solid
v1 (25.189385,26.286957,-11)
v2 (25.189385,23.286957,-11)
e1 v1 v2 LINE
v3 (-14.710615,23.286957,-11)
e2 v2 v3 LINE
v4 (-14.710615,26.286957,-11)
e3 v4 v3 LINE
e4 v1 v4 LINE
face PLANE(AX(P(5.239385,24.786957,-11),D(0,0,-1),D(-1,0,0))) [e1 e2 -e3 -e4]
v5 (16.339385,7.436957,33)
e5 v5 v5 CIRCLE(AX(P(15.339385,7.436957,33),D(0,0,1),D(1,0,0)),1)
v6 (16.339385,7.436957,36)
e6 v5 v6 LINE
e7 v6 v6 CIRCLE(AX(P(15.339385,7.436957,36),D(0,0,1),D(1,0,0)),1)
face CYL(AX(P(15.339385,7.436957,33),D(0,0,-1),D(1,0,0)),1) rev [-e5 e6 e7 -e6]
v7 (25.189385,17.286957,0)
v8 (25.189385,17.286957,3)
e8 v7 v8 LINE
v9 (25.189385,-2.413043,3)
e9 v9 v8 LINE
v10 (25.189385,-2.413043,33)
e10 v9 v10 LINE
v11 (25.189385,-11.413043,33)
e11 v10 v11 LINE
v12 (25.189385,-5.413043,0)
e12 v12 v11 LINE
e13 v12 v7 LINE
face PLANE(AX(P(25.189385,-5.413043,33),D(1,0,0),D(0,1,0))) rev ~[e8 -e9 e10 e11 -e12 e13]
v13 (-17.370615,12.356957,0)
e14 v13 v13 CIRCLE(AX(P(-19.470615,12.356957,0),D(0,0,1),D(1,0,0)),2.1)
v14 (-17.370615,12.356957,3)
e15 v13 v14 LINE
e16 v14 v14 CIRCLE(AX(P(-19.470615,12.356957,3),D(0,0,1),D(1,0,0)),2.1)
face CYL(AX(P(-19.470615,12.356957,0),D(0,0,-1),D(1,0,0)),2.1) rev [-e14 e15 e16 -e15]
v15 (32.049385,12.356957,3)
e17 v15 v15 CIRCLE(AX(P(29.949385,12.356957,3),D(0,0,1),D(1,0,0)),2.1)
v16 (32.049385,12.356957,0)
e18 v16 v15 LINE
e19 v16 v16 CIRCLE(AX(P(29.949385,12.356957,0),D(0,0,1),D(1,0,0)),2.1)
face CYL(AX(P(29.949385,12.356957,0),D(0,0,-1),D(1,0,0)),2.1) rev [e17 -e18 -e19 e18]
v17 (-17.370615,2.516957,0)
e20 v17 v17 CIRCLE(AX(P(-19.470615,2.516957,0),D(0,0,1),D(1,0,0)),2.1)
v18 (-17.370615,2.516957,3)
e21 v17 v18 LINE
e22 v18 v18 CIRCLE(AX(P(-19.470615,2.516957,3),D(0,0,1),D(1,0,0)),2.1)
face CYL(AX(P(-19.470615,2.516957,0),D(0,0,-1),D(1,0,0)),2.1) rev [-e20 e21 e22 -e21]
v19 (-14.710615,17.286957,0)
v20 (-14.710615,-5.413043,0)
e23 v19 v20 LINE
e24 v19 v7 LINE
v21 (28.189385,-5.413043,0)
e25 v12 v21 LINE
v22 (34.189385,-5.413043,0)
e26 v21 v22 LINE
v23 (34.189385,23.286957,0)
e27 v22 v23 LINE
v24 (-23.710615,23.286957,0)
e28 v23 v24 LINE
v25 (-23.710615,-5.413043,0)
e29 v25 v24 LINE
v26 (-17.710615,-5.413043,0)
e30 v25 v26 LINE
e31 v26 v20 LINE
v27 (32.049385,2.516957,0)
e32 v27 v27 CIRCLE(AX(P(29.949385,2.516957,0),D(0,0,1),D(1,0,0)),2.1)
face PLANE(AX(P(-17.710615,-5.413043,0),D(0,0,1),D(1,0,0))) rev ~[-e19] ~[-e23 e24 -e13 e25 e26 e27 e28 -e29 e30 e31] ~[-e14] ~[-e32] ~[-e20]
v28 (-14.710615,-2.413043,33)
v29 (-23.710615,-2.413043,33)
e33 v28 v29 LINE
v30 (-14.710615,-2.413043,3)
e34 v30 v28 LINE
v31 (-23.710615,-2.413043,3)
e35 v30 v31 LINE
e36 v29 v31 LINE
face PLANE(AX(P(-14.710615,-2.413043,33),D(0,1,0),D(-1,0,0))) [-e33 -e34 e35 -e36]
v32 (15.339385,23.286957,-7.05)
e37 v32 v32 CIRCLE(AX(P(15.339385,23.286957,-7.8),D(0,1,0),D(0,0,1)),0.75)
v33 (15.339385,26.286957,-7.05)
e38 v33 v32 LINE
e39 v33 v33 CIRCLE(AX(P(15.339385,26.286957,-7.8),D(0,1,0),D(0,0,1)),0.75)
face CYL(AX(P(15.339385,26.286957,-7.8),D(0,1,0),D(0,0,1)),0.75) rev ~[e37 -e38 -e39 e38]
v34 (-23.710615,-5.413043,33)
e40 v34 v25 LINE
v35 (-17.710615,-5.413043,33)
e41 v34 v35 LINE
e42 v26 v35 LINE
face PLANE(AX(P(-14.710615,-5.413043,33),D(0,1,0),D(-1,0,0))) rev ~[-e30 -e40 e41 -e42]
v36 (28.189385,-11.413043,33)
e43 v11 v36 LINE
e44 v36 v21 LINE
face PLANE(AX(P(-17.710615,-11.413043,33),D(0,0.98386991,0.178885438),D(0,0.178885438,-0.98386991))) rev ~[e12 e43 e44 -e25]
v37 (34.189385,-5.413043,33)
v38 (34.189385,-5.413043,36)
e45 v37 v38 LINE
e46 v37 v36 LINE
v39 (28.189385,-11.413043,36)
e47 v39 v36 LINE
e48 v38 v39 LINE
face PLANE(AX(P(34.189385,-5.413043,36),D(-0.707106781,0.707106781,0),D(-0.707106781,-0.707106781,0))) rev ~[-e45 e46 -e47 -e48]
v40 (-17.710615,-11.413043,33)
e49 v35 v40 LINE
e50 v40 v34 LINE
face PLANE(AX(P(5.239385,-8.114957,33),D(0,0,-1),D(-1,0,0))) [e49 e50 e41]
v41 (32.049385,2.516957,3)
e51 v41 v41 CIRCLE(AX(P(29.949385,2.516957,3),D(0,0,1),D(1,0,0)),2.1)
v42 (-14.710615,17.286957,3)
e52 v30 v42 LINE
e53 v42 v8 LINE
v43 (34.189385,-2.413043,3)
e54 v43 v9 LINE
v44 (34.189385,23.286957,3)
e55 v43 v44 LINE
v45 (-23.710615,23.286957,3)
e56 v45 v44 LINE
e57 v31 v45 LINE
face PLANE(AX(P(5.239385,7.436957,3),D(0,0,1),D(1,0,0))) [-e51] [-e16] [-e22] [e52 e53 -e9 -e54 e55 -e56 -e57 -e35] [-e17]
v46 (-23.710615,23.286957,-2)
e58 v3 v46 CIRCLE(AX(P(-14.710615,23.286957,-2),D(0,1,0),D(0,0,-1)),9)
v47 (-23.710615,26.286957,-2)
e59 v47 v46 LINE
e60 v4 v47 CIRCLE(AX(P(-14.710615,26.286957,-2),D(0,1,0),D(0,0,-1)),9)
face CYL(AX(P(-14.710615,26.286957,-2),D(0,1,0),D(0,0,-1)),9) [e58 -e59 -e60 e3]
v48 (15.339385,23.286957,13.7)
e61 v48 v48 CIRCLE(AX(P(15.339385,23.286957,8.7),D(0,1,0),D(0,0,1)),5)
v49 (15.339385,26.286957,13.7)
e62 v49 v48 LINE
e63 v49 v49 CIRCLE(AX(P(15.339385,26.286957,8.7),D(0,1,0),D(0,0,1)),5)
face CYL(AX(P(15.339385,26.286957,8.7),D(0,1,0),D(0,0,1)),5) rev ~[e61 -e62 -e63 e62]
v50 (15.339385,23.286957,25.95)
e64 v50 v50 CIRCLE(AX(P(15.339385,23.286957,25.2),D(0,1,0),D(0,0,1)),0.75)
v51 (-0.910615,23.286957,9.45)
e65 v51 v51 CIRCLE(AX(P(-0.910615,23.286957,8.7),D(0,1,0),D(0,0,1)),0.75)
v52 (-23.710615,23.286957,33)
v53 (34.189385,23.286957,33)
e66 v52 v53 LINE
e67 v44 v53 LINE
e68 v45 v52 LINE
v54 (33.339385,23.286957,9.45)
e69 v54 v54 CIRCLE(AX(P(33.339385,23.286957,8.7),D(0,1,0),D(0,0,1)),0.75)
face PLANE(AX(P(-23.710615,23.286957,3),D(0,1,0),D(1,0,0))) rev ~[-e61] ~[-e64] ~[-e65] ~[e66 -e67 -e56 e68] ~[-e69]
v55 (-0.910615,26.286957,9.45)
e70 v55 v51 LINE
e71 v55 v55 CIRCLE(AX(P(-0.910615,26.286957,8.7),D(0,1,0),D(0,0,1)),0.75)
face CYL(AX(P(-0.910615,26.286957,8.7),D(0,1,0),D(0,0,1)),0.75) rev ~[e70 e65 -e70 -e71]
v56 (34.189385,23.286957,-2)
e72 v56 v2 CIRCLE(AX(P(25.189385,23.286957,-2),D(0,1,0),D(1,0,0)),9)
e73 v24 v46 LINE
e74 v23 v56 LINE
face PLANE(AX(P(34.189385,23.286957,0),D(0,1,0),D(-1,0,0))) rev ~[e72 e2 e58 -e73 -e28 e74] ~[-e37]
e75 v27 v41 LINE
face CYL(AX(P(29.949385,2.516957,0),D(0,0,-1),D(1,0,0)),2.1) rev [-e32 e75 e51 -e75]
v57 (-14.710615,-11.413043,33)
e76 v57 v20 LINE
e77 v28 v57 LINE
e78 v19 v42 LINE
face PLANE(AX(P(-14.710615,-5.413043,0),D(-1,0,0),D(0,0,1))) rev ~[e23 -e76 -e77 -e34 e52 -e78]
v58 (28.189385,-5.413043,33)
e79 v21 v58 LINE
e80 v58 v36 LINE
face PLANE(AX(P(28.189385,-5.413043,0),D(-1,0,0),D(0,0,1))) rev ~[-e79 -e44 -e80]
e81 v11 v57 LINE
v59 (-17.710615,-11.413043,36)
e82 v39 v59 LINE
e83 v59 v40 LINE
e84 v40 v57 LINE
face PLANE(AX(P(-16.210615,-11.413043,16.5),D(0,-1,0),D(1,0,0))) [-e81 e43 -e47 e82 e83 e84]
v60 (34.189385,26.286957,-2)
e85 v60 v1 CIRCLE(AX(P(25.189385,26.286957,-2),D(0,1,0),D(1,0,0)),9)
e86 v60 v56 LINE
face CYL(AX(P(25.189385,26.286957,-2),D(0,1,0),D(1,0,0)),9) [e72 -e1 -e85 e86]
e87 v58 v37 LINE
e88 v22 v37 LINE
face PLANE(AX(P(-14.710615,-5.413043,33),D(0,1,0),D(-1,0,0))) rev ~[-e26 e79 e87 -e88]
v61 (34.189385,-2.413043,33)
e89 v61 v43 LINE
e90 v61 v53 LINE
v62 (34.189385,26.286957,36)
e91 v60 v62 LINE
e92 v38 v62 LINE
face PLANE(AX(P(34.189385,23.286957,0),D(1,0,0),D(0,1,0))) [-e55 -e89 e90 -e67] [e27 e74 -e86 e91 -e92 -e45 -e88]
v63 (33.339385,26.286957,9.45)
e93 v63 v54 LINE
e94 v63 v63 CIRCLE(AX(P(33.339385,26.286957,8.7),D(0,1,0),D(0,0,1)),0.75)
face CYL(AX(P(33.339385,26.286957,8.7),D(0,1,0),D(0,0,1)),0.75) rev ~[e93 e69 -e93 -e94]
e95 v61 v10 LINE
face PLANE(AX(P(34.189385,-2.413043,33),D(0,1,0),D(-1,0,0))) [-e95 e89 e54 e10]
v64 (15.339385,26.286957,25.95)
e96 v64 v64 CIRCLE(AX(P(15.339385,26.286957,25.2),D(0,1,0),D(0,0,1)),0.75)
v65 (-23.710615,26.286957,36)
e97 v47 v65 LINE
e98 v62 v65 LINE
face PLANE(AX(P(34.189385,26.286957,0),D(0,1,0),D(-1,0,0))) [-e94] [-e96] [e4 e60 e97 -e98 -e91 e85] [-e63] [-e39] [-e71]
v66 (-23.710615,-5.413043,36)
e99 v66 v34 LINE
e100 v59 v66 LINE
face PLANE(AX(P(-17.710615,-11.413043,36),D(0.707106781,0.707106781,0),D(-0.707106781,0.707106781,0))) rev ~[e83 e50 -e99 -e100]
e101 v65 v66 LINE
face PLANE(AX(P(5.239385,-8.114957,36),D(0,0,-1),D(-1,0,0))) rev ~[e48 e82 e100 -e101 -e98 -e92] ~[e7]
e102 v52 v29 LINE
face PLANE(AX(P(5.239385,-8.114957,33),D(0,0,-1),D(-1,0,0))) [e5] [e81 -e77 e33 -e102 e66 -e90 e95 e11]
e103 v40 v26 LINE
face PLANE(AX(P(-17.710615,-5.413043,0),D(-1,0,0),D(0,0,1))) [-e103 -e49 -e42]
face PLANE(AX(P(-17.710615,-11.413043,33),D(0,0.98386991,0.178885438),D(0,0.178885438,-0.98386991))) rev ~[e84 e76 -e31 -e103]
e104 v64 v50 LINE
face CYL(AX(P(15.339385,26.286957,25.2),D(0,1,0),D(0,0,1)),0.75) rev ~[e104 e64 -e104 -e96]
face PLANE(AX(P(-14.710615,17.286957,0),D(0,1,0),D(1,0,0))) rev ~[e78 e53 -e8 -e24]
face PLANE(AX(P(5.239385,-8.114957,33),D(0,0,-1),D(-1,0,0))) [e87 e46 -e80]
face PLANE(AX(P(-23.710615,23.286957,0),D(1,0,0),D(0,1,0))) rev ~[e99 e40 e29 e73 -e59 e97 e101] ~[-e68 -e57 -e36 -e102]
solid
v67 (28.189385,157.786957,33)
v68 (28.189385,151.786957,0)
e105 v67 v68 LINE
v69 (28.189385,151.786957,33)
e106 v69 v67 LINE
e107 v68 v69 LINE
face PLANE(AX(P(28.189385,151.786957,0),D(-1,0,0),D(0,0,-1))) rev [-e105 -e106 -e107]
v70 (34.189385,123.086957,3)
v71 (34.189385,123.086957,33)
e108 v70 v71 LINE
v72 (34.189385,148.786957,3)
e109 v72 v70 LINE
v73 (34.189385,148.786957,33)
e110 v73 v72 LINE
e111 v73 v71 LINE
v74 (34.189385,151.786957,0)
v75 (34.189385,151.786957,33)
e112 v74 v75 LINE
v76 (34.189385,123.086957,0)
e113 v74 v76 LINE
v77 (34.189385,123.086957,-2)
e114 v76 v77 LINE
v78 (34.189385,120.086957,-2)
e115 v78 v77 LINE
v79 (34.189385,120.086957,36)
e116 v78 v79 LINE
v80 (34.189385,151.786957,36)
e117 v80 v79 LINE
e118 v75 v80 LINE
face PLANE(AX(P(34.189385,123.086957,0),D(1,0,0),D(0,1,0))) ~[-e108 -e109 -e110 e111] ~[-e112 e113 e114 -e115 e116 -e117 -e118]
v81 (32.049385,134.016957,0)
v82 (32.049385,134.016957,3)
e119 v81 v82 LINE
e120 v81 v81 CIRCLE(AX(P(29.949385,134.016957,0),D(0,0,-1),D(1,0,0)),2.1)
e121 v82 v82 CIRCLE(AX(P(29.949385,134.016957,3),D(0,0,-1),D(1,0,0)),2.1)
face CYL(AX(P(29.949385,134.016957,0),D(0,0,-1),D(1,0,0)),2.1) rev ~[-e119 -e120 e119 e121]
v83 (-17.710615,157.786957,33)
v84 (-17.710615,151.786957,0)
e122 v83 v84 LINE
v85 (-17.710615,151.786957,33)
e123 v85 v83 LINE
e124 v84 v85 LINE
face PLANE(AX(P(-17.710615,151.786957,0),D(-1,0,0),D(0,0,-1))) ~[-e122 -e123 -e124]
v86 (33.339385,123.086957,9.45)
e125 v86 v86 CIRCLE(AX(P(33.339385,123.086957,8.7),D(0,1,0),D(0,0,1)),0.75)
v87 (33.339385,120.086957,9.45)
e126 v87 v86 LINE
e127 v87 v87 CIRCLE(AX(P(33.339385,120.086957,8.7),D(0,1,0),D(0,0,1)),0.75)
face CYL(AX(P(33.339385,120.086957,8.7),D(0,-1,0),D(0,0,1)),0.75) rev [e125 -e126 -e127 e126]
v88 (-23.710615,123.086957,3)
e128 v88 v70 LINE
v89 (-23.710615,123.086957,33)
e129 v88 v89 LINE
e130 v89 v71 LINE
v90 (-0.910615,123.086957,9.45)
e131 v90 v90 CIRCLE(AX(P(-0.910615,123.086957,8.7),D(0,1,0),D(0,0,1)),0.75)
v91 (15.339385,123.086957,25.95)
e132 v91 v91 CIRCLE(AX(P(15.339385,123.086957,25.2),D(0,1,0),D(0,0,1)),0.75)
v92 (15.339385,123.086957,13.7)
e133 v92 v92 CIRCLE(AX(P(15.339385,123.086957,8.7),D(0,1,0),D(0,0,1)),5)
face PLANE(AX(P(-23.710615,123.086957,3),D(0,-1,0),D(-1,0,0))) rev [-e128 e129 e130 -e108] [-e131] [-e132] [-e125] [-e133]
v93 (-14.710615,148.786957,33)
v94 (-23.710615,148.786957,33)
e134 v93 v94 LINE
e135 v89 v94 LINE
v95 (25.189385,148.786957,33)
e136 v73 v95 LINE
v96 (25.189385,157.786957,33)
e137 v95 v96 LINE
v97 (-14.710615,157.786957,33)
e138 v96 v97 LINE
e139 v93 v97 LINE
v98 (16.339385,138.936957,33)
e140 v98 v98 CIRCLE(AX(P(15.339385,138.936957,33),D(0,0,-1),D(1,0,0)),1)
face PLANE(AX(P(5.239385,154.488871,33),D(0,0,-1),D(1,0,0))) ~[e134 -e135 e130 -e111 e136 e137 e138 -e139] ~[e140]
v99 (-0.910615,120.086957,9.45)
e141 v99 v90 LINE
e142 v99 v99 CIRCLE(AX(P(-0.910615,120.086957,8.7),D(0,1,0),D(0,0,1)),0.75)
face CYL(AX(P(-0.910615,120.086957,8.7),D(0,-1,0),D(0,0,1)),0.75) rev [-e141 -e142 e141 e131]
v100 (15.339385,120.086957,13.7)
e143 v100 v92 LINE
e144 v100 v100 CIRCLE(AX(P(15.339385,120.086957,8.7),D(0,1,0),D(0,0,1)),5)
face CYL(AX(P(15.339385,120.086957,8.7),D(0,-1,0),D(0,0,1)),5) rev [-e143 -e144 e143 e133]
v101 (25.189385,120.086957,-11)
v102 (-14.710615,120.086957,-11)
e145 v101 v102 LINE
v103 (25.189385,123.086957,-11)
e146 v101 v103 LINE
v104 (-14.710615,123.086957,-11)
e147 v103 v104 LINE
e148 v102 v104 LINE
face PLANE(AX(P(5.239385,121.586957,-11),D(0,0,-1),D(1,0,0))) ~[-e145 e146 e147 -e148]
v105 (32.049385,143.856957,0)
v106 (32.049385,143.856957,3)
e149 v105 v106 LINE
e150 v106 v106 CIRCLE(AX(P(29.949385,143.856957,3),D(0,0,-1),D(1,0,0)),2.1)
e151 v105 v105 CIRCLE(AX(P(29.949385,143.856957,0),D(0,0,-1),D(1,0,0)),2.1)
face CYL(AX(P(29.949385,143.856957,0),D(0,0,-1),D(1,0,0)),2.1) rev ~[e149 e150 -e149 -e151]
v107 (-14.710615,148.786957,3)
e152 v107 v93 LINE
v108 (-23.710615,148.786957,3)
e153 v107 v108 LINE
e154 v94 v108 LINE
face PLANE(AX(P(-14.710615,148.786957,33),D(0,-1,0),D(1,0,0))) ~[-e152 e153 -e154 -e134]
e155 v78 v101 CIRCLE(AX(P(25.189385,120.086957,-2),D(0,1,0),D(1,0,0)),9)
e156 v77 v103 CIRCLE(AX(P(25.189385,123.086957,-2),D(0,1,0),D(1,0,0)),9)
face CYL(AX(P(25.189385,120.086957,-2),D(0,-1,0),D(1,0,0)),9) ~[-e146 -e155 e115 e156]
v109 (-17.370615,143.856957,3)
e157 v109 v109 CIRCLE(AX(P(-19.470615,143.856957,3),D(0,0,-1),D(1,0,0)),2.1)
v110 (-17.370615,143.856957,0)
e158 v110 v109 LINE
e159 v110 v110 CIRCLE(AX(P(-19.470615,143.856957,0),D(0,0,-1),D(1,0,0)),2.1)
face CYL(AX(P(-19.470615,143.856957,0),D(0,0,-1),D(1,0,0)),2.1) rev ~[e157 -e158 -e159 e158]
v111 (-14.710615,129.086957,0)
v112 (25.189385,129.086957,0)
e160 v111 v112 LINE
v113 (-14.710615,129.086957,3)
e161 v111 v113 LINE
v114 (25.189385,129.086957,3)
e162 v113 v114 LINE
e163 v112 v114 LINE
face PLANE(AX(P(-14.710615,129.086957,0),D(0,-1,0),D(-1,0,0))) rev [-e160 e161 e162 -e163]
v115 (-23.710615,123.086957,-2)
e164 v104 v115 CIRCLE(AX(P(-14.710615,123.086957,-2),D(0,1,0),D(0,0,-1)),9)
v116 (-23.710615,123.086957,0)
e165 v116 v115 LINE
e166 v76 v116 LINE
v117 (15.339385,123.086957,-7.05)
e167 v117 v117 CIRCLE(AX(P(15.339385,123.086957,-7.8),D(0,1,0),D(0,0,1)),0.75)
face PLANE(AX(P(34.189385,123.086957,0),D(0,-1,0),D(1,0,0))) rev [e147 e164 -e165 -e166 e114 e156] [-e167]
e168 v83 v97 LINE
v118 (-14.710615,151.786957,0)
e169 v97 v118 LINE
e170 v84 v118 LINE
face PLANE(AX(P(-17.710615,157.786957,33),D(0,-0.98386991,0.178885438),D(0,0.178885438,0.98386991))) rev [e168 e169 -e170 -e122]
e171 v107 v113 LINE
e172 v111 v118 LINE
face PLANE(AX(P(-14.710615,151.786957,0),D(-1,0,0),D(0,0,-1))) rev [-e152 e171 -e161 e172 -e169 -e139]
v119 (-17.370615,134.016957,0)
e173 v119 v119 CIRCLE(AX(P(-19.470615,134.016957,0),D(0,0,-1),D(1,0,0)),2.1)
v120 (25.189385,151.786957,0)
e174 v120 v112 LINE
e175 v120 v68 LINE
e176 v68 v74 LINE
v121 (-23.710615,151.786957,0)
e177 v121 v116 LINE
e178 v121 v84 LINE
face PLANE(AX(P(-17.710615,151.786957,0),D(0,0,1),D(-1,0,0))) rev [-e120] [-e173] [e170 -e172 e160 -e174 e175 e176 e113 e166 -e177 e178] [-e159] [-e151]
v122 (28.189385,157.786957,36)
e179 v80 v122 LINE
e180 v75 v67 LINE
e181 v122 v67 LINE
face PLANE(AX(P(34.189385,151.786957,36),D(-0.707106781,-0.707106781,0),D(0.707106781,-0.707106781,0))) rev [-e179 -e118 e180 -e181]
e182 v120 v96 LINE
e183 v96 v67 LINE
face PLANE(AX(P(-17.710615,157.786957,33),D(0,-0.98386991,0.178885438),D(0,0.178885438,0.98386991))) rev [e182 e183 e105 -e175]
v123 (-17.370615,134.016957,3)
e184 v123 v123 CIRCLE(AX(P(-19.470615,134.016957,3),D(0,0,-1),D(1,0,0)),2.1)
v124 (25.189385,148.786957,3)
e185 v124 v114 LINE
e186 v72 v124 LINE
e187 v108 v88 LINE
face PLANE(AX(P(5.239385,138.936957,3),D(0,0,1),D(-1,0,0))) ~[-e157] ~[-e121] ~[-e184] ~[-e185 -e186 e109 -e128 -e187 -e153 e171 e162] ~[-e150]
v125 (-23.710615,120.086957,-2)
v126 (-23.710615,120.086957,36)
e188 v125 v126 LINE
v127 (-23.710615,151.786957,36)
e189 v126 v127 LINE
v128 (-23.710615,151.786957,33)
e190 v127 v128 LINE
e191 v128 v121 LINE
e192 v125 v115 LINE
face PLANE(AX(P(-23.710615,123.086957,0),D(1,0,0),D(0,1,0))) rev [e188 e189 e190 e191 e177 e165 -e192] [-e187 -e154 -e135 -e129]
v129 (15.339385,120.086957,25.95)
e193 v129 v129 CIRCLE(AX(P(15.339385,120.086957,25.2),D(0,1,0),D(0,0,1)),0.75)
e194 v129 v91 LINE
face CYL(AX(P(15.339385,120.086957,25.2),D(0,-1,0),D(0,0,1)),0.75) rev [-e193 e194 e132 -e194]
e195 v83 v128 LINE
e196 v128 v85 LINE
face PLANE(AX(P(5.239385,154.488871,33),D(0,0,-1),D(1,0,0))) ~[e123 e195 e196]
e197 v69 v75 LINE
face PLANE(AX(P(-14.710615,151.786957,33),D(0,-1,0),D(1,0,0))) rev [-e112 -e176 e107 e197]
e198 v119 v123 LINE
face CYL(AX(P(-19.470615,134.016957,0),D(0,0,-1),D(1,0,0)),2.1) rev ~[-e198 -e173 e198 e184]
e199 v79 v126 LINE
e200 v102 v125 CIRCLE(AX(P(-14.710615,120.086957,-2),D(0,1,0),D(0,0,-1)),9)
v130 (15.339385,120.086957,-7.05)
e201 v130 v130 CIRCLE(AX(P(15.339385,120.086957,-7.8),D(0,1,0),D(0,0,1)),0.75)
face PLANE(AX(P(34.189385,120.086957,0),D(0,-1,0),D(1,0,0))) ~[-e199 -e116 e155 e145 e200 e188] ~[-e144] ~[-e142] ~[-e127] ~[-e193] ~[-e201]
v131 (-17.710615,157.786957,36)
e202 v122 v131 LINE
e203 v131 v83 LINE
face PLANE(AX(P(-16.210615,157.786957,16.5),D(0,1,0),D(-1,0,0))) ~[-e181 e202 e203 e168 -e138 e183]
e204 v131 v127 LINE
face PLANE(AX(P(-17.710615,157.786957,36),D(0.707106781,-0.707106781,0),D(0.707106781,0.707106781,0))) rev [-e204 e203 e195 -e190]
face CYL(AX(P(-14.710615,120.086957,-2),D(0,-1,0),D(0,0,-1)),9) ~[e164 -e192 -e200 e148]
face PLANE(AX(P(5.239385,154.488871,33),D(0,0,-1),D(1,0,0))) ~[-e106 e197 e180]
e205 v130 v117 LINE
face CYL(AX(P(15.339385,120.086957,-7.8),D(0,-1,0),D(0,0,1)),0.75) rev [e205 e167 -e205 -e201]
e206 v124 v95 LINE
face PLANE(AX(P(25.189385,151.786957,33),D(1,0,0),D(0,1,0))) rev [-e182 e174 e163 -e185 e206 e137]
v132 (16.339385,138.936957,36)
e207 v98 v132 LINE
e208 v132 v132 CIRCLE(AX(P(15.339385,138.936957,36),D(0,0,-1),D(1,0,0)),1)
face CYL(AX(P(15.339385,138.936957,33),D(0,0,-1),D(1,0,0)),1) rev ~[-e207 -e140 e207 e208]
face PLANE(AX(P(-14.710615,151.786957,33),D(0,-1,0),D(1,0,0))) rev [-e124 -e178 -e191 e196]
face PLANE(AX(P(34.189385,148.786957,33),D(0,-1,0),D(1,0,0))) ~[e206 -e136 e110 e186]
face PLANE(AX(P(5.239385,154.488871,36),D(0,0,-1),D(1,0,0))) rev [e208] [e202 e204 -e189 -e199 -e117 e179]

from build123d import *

# Parameters (mm, degrees)
SKETCH_1_W          = 57.9
SKETCH_1_H          = 37.7
SKETCH_1_R          = 2.1
SKETCH_1_W_2        = 39.9
SKETCH_1_H_2        = 19.7
EXTRUDE_1_DEPTH     = 3
SKETCH_2_W          = 57.9
SKETCH_2_H          = 3
EXTRUDE_2_DEPTH     = 30
SKETCH_3_R          = 1
EXTRUDE_3_DEPTH     = 3
SKETCH_9_W          = 57.9
SKETCH_9_H          = 3
EXTRUDE_4_DEPTH     = 11
SKETCH_10_R         = 0.75
SKETCH_10_R_2       = 5
CUT_EXTRUDE_3_DEPTH = 3
SKETCH_11_W         = 9
SKETCH_11_H         = 3
EXTRUDE_5_DEPTH     = 32
CUT_EXTRUDE_4_DEPTH = 9
EXTRUDE_6_DEPTH     = 3
SKETCH_17_W         = 3
SKETCH_17_H         = 33
EXTRUDE_7_DEPTH     = 6
CUT_EXTRUDE_5_DEPTH = 52


with BuildPart() as part:
    # 草图1 → 凸台-拉伸1 (new body)
    with BuildSketch(Plane.XY):
        with Locations((5.239385195, 7.436956636)):
            Rectangle(SKETCH_1_W, SKETCH_1_H)
        with Locations((-19.470614805, 12.356956636)):
            Circle(SKETCH_1_R, mode=Mode.SUBTRACT)
        with Locations((-19.470614805, 2.516956636)):
            Circle(SKETCH_1_R, mode=Mode.SUBTRACT)
        with Locations((29.949385195, 12.356956636)):
            Circle(SKETCH_1_R, mode=Mode.SUBTRACT)
        with Locations((29.949385195, 2.516956636)):
            Circle(SKETCH_1_R, mode=Mode.SUBTRACT)
        with Locations((5.239385195, 7.436956636)):
            Rectangle(SKETCH_1_W_2, SKETCH_1_H_2, mode=Mode.SUBTRACT)
    extrude(amount=EXTRUDE_1_DEPTH)

    # 草图2 → 凸台-拉伸2 (add)
    with BuildSketch(Plane.XY.offset(3)):
        with Locations((5.239385195, 24.786956636)):
            Rectangle(SKETCH_2_W, SKETCH_2_H)
    extrude(amount=EXTRUDE_2_DEPTH)

    # 草图3 → 凸台-拉伸3 (add)
    with BuildSketch(Plane.XY.offset(33)):
        Polygon((-14.710614805, 26.286956636), (-23.710614805, 26.286956636), (-23.710614805, -2.413043364), (-23.710614805, -5.413043364), (34.189385195, -5.413043364), (34.189385195, -2.413043364), (34.189385195, 26.286956636), (25.189385195, 26.286956636), align=None)
        with Locations((15.339385195, 7.436956636)):
            Circle(SKETCH_3_R, mode=Mode.SUBTRACT)
    extrude(amount=EXTRUDE_3_DEPTH)

    # 草图9 → 凸台-拉伸4 (add)
    with BuildSketch(Plane(origin=(0, 0, 0), x_dir=(-1, 0, 0), z_dir=(0, 0, -1))):
        with Locations((-5.239385195, 24.786956636)):
            Rectangle(SKETCH_9_W, SKETCH_9_H)
    extrude(amount=EXTRUDE_4_DEPTH)

    # 草图10 → 切除-拉伸3 (cut)
    with BuildSketch(Plane(origin=(0, 26.286956636, 0), x_dir=(1, 0, 0), z_dir=(0, 1, 0))):
        with Locations(Location((15.339385195, 7.8, 0), (0, 0, 270))):
            Circle(SKETCH_10_R)
        with Locations(Location((33.339385195, -8.7, 0), (0, 0, 270))):
            Circle(SKETCH_10_R)
        with Locations(Location((15.339385195, -25.2, 0), (0, 0, 270))):
            Circle(SKETCH_10_R)
        with Locations(Location((-0.910614805, -8.7, 0), (0, 0, 270))):
            Circle(SKETCH_10_R)
        with Locations(Location((15.339385195, -8.7, 0), (0, 0, 270))):
            Circle(SKETCH_10_R_2)
        with BuildLine():
            Line((-23.710614805, 2), (-23.710614805, 11))
            Line((-23.710614805, 11), (-14.710614805, 11))
            ThreePointArc((-14.710614805, 11), (-21.074575836, 8.363961031), (-23.710614805, 2))
        make_face()
        with BuildLine():
            Line((25.189385195, 11), (34.189385195, 11))
            Line((34.189385195, 11), (34.189385195, 2))
            ThreePointArc((34.189385195, 2), (31.553346226, 8.363961031), (25.189385195, 11))
        make_face()
    extrude(amount=-CUT_EXTRUDE_3_DEPTH, mode=Mode.SUBTRACT)


with BuildPart() as body_2:
    # 镜向1: mirrored copy
    add(part.part.mirror(Plane.ZX.offset(73.186956636)))


with BuildPart() as part_1:
    add(part.part)

    # 草图11 → 凸台-拉伸5 (add)
    with BuildSketch(Plane(origin=(0, 0, 33), x_dir=(-1, 0, 0), z_dir=(0, 0, -1))):
        with Locations((19.210614805, -3.913043364)):
            Rectangle(SKETCH_11_W, SKETCH_11_H)
        with Locations((-29.689385195, -3.913043364)):
            Rectangle(SKETCH_11_W, SKETCH_11_H)
    extrude(amount=EXTRUDE_5_DEPTH)

    # 草图12 → 切除-拉伸4 (cut)
    with BuildSketch(Plane(origin=(0, 0, 0), x_dir=(-1, 0, 0), z_dir=(0, 0, -1))):
        Polygon((-25.189385195, -2.413043364), (-25.189385195, -5.413043364), (-34.189385195, -5.413043364), (-34.189385195, -11.413043364), (23.710614805, -11.413043364), (23.710614805, -5.413043364), (14.710614805, -5.413043364), (14.710614805, -2.413043364), align=None)
    extrude(amount=-CUT_EXTRUDE_4_DEPTH, mode=Mode.SUBTRACT)

    # 草图13 → 凸台-拉伸6 (add)
    with BuildSketch(Plane.XY.offset(36)):
        Polygon((-23.710614805, -5.413043364), (34.189385195, -5.413043364), (28.189385195, -11.413043364), (-17.710614805, -11.413043364), align=None)
    extrude(amount=-EXTRUDE_6_DEPTH)

    # 草图17 → 凸台-拉伸7 (add)
    with BuildSketch(Plane.XZ.offset(5.413043364)):
        with Locations((-16.210614805, 16.5)):
            Rectangle(SKETCH_17_W, SKETCH_17_H)
        with Locations((26.689385195, 16.5)):
            Rectangle(SKETCH_17_W, SKETCH_17_H)
    extrude(amount=EXTRUDE_7_DEPTH)

    # 草图19 → 切除-拉伸5 (cut)
    with BuildSketch(Plane.ZY.offset(17.710614805)):
        Polygon((0, -5.413043364), (0, -11.413043364), (33, -11.413043364), align=None)
    extrude(amount=-CUT_EXTRUDE_5_DEPTH, mode=Mode.SUBTRACT)


with BuildPart() as body_2_2:
    # 镜向2: mirrored copy
    add(part_1.part.mirror(Plane.ZX.offset(73.186956636)))


solid = Compound([part_1.part, body_2_2.part])
